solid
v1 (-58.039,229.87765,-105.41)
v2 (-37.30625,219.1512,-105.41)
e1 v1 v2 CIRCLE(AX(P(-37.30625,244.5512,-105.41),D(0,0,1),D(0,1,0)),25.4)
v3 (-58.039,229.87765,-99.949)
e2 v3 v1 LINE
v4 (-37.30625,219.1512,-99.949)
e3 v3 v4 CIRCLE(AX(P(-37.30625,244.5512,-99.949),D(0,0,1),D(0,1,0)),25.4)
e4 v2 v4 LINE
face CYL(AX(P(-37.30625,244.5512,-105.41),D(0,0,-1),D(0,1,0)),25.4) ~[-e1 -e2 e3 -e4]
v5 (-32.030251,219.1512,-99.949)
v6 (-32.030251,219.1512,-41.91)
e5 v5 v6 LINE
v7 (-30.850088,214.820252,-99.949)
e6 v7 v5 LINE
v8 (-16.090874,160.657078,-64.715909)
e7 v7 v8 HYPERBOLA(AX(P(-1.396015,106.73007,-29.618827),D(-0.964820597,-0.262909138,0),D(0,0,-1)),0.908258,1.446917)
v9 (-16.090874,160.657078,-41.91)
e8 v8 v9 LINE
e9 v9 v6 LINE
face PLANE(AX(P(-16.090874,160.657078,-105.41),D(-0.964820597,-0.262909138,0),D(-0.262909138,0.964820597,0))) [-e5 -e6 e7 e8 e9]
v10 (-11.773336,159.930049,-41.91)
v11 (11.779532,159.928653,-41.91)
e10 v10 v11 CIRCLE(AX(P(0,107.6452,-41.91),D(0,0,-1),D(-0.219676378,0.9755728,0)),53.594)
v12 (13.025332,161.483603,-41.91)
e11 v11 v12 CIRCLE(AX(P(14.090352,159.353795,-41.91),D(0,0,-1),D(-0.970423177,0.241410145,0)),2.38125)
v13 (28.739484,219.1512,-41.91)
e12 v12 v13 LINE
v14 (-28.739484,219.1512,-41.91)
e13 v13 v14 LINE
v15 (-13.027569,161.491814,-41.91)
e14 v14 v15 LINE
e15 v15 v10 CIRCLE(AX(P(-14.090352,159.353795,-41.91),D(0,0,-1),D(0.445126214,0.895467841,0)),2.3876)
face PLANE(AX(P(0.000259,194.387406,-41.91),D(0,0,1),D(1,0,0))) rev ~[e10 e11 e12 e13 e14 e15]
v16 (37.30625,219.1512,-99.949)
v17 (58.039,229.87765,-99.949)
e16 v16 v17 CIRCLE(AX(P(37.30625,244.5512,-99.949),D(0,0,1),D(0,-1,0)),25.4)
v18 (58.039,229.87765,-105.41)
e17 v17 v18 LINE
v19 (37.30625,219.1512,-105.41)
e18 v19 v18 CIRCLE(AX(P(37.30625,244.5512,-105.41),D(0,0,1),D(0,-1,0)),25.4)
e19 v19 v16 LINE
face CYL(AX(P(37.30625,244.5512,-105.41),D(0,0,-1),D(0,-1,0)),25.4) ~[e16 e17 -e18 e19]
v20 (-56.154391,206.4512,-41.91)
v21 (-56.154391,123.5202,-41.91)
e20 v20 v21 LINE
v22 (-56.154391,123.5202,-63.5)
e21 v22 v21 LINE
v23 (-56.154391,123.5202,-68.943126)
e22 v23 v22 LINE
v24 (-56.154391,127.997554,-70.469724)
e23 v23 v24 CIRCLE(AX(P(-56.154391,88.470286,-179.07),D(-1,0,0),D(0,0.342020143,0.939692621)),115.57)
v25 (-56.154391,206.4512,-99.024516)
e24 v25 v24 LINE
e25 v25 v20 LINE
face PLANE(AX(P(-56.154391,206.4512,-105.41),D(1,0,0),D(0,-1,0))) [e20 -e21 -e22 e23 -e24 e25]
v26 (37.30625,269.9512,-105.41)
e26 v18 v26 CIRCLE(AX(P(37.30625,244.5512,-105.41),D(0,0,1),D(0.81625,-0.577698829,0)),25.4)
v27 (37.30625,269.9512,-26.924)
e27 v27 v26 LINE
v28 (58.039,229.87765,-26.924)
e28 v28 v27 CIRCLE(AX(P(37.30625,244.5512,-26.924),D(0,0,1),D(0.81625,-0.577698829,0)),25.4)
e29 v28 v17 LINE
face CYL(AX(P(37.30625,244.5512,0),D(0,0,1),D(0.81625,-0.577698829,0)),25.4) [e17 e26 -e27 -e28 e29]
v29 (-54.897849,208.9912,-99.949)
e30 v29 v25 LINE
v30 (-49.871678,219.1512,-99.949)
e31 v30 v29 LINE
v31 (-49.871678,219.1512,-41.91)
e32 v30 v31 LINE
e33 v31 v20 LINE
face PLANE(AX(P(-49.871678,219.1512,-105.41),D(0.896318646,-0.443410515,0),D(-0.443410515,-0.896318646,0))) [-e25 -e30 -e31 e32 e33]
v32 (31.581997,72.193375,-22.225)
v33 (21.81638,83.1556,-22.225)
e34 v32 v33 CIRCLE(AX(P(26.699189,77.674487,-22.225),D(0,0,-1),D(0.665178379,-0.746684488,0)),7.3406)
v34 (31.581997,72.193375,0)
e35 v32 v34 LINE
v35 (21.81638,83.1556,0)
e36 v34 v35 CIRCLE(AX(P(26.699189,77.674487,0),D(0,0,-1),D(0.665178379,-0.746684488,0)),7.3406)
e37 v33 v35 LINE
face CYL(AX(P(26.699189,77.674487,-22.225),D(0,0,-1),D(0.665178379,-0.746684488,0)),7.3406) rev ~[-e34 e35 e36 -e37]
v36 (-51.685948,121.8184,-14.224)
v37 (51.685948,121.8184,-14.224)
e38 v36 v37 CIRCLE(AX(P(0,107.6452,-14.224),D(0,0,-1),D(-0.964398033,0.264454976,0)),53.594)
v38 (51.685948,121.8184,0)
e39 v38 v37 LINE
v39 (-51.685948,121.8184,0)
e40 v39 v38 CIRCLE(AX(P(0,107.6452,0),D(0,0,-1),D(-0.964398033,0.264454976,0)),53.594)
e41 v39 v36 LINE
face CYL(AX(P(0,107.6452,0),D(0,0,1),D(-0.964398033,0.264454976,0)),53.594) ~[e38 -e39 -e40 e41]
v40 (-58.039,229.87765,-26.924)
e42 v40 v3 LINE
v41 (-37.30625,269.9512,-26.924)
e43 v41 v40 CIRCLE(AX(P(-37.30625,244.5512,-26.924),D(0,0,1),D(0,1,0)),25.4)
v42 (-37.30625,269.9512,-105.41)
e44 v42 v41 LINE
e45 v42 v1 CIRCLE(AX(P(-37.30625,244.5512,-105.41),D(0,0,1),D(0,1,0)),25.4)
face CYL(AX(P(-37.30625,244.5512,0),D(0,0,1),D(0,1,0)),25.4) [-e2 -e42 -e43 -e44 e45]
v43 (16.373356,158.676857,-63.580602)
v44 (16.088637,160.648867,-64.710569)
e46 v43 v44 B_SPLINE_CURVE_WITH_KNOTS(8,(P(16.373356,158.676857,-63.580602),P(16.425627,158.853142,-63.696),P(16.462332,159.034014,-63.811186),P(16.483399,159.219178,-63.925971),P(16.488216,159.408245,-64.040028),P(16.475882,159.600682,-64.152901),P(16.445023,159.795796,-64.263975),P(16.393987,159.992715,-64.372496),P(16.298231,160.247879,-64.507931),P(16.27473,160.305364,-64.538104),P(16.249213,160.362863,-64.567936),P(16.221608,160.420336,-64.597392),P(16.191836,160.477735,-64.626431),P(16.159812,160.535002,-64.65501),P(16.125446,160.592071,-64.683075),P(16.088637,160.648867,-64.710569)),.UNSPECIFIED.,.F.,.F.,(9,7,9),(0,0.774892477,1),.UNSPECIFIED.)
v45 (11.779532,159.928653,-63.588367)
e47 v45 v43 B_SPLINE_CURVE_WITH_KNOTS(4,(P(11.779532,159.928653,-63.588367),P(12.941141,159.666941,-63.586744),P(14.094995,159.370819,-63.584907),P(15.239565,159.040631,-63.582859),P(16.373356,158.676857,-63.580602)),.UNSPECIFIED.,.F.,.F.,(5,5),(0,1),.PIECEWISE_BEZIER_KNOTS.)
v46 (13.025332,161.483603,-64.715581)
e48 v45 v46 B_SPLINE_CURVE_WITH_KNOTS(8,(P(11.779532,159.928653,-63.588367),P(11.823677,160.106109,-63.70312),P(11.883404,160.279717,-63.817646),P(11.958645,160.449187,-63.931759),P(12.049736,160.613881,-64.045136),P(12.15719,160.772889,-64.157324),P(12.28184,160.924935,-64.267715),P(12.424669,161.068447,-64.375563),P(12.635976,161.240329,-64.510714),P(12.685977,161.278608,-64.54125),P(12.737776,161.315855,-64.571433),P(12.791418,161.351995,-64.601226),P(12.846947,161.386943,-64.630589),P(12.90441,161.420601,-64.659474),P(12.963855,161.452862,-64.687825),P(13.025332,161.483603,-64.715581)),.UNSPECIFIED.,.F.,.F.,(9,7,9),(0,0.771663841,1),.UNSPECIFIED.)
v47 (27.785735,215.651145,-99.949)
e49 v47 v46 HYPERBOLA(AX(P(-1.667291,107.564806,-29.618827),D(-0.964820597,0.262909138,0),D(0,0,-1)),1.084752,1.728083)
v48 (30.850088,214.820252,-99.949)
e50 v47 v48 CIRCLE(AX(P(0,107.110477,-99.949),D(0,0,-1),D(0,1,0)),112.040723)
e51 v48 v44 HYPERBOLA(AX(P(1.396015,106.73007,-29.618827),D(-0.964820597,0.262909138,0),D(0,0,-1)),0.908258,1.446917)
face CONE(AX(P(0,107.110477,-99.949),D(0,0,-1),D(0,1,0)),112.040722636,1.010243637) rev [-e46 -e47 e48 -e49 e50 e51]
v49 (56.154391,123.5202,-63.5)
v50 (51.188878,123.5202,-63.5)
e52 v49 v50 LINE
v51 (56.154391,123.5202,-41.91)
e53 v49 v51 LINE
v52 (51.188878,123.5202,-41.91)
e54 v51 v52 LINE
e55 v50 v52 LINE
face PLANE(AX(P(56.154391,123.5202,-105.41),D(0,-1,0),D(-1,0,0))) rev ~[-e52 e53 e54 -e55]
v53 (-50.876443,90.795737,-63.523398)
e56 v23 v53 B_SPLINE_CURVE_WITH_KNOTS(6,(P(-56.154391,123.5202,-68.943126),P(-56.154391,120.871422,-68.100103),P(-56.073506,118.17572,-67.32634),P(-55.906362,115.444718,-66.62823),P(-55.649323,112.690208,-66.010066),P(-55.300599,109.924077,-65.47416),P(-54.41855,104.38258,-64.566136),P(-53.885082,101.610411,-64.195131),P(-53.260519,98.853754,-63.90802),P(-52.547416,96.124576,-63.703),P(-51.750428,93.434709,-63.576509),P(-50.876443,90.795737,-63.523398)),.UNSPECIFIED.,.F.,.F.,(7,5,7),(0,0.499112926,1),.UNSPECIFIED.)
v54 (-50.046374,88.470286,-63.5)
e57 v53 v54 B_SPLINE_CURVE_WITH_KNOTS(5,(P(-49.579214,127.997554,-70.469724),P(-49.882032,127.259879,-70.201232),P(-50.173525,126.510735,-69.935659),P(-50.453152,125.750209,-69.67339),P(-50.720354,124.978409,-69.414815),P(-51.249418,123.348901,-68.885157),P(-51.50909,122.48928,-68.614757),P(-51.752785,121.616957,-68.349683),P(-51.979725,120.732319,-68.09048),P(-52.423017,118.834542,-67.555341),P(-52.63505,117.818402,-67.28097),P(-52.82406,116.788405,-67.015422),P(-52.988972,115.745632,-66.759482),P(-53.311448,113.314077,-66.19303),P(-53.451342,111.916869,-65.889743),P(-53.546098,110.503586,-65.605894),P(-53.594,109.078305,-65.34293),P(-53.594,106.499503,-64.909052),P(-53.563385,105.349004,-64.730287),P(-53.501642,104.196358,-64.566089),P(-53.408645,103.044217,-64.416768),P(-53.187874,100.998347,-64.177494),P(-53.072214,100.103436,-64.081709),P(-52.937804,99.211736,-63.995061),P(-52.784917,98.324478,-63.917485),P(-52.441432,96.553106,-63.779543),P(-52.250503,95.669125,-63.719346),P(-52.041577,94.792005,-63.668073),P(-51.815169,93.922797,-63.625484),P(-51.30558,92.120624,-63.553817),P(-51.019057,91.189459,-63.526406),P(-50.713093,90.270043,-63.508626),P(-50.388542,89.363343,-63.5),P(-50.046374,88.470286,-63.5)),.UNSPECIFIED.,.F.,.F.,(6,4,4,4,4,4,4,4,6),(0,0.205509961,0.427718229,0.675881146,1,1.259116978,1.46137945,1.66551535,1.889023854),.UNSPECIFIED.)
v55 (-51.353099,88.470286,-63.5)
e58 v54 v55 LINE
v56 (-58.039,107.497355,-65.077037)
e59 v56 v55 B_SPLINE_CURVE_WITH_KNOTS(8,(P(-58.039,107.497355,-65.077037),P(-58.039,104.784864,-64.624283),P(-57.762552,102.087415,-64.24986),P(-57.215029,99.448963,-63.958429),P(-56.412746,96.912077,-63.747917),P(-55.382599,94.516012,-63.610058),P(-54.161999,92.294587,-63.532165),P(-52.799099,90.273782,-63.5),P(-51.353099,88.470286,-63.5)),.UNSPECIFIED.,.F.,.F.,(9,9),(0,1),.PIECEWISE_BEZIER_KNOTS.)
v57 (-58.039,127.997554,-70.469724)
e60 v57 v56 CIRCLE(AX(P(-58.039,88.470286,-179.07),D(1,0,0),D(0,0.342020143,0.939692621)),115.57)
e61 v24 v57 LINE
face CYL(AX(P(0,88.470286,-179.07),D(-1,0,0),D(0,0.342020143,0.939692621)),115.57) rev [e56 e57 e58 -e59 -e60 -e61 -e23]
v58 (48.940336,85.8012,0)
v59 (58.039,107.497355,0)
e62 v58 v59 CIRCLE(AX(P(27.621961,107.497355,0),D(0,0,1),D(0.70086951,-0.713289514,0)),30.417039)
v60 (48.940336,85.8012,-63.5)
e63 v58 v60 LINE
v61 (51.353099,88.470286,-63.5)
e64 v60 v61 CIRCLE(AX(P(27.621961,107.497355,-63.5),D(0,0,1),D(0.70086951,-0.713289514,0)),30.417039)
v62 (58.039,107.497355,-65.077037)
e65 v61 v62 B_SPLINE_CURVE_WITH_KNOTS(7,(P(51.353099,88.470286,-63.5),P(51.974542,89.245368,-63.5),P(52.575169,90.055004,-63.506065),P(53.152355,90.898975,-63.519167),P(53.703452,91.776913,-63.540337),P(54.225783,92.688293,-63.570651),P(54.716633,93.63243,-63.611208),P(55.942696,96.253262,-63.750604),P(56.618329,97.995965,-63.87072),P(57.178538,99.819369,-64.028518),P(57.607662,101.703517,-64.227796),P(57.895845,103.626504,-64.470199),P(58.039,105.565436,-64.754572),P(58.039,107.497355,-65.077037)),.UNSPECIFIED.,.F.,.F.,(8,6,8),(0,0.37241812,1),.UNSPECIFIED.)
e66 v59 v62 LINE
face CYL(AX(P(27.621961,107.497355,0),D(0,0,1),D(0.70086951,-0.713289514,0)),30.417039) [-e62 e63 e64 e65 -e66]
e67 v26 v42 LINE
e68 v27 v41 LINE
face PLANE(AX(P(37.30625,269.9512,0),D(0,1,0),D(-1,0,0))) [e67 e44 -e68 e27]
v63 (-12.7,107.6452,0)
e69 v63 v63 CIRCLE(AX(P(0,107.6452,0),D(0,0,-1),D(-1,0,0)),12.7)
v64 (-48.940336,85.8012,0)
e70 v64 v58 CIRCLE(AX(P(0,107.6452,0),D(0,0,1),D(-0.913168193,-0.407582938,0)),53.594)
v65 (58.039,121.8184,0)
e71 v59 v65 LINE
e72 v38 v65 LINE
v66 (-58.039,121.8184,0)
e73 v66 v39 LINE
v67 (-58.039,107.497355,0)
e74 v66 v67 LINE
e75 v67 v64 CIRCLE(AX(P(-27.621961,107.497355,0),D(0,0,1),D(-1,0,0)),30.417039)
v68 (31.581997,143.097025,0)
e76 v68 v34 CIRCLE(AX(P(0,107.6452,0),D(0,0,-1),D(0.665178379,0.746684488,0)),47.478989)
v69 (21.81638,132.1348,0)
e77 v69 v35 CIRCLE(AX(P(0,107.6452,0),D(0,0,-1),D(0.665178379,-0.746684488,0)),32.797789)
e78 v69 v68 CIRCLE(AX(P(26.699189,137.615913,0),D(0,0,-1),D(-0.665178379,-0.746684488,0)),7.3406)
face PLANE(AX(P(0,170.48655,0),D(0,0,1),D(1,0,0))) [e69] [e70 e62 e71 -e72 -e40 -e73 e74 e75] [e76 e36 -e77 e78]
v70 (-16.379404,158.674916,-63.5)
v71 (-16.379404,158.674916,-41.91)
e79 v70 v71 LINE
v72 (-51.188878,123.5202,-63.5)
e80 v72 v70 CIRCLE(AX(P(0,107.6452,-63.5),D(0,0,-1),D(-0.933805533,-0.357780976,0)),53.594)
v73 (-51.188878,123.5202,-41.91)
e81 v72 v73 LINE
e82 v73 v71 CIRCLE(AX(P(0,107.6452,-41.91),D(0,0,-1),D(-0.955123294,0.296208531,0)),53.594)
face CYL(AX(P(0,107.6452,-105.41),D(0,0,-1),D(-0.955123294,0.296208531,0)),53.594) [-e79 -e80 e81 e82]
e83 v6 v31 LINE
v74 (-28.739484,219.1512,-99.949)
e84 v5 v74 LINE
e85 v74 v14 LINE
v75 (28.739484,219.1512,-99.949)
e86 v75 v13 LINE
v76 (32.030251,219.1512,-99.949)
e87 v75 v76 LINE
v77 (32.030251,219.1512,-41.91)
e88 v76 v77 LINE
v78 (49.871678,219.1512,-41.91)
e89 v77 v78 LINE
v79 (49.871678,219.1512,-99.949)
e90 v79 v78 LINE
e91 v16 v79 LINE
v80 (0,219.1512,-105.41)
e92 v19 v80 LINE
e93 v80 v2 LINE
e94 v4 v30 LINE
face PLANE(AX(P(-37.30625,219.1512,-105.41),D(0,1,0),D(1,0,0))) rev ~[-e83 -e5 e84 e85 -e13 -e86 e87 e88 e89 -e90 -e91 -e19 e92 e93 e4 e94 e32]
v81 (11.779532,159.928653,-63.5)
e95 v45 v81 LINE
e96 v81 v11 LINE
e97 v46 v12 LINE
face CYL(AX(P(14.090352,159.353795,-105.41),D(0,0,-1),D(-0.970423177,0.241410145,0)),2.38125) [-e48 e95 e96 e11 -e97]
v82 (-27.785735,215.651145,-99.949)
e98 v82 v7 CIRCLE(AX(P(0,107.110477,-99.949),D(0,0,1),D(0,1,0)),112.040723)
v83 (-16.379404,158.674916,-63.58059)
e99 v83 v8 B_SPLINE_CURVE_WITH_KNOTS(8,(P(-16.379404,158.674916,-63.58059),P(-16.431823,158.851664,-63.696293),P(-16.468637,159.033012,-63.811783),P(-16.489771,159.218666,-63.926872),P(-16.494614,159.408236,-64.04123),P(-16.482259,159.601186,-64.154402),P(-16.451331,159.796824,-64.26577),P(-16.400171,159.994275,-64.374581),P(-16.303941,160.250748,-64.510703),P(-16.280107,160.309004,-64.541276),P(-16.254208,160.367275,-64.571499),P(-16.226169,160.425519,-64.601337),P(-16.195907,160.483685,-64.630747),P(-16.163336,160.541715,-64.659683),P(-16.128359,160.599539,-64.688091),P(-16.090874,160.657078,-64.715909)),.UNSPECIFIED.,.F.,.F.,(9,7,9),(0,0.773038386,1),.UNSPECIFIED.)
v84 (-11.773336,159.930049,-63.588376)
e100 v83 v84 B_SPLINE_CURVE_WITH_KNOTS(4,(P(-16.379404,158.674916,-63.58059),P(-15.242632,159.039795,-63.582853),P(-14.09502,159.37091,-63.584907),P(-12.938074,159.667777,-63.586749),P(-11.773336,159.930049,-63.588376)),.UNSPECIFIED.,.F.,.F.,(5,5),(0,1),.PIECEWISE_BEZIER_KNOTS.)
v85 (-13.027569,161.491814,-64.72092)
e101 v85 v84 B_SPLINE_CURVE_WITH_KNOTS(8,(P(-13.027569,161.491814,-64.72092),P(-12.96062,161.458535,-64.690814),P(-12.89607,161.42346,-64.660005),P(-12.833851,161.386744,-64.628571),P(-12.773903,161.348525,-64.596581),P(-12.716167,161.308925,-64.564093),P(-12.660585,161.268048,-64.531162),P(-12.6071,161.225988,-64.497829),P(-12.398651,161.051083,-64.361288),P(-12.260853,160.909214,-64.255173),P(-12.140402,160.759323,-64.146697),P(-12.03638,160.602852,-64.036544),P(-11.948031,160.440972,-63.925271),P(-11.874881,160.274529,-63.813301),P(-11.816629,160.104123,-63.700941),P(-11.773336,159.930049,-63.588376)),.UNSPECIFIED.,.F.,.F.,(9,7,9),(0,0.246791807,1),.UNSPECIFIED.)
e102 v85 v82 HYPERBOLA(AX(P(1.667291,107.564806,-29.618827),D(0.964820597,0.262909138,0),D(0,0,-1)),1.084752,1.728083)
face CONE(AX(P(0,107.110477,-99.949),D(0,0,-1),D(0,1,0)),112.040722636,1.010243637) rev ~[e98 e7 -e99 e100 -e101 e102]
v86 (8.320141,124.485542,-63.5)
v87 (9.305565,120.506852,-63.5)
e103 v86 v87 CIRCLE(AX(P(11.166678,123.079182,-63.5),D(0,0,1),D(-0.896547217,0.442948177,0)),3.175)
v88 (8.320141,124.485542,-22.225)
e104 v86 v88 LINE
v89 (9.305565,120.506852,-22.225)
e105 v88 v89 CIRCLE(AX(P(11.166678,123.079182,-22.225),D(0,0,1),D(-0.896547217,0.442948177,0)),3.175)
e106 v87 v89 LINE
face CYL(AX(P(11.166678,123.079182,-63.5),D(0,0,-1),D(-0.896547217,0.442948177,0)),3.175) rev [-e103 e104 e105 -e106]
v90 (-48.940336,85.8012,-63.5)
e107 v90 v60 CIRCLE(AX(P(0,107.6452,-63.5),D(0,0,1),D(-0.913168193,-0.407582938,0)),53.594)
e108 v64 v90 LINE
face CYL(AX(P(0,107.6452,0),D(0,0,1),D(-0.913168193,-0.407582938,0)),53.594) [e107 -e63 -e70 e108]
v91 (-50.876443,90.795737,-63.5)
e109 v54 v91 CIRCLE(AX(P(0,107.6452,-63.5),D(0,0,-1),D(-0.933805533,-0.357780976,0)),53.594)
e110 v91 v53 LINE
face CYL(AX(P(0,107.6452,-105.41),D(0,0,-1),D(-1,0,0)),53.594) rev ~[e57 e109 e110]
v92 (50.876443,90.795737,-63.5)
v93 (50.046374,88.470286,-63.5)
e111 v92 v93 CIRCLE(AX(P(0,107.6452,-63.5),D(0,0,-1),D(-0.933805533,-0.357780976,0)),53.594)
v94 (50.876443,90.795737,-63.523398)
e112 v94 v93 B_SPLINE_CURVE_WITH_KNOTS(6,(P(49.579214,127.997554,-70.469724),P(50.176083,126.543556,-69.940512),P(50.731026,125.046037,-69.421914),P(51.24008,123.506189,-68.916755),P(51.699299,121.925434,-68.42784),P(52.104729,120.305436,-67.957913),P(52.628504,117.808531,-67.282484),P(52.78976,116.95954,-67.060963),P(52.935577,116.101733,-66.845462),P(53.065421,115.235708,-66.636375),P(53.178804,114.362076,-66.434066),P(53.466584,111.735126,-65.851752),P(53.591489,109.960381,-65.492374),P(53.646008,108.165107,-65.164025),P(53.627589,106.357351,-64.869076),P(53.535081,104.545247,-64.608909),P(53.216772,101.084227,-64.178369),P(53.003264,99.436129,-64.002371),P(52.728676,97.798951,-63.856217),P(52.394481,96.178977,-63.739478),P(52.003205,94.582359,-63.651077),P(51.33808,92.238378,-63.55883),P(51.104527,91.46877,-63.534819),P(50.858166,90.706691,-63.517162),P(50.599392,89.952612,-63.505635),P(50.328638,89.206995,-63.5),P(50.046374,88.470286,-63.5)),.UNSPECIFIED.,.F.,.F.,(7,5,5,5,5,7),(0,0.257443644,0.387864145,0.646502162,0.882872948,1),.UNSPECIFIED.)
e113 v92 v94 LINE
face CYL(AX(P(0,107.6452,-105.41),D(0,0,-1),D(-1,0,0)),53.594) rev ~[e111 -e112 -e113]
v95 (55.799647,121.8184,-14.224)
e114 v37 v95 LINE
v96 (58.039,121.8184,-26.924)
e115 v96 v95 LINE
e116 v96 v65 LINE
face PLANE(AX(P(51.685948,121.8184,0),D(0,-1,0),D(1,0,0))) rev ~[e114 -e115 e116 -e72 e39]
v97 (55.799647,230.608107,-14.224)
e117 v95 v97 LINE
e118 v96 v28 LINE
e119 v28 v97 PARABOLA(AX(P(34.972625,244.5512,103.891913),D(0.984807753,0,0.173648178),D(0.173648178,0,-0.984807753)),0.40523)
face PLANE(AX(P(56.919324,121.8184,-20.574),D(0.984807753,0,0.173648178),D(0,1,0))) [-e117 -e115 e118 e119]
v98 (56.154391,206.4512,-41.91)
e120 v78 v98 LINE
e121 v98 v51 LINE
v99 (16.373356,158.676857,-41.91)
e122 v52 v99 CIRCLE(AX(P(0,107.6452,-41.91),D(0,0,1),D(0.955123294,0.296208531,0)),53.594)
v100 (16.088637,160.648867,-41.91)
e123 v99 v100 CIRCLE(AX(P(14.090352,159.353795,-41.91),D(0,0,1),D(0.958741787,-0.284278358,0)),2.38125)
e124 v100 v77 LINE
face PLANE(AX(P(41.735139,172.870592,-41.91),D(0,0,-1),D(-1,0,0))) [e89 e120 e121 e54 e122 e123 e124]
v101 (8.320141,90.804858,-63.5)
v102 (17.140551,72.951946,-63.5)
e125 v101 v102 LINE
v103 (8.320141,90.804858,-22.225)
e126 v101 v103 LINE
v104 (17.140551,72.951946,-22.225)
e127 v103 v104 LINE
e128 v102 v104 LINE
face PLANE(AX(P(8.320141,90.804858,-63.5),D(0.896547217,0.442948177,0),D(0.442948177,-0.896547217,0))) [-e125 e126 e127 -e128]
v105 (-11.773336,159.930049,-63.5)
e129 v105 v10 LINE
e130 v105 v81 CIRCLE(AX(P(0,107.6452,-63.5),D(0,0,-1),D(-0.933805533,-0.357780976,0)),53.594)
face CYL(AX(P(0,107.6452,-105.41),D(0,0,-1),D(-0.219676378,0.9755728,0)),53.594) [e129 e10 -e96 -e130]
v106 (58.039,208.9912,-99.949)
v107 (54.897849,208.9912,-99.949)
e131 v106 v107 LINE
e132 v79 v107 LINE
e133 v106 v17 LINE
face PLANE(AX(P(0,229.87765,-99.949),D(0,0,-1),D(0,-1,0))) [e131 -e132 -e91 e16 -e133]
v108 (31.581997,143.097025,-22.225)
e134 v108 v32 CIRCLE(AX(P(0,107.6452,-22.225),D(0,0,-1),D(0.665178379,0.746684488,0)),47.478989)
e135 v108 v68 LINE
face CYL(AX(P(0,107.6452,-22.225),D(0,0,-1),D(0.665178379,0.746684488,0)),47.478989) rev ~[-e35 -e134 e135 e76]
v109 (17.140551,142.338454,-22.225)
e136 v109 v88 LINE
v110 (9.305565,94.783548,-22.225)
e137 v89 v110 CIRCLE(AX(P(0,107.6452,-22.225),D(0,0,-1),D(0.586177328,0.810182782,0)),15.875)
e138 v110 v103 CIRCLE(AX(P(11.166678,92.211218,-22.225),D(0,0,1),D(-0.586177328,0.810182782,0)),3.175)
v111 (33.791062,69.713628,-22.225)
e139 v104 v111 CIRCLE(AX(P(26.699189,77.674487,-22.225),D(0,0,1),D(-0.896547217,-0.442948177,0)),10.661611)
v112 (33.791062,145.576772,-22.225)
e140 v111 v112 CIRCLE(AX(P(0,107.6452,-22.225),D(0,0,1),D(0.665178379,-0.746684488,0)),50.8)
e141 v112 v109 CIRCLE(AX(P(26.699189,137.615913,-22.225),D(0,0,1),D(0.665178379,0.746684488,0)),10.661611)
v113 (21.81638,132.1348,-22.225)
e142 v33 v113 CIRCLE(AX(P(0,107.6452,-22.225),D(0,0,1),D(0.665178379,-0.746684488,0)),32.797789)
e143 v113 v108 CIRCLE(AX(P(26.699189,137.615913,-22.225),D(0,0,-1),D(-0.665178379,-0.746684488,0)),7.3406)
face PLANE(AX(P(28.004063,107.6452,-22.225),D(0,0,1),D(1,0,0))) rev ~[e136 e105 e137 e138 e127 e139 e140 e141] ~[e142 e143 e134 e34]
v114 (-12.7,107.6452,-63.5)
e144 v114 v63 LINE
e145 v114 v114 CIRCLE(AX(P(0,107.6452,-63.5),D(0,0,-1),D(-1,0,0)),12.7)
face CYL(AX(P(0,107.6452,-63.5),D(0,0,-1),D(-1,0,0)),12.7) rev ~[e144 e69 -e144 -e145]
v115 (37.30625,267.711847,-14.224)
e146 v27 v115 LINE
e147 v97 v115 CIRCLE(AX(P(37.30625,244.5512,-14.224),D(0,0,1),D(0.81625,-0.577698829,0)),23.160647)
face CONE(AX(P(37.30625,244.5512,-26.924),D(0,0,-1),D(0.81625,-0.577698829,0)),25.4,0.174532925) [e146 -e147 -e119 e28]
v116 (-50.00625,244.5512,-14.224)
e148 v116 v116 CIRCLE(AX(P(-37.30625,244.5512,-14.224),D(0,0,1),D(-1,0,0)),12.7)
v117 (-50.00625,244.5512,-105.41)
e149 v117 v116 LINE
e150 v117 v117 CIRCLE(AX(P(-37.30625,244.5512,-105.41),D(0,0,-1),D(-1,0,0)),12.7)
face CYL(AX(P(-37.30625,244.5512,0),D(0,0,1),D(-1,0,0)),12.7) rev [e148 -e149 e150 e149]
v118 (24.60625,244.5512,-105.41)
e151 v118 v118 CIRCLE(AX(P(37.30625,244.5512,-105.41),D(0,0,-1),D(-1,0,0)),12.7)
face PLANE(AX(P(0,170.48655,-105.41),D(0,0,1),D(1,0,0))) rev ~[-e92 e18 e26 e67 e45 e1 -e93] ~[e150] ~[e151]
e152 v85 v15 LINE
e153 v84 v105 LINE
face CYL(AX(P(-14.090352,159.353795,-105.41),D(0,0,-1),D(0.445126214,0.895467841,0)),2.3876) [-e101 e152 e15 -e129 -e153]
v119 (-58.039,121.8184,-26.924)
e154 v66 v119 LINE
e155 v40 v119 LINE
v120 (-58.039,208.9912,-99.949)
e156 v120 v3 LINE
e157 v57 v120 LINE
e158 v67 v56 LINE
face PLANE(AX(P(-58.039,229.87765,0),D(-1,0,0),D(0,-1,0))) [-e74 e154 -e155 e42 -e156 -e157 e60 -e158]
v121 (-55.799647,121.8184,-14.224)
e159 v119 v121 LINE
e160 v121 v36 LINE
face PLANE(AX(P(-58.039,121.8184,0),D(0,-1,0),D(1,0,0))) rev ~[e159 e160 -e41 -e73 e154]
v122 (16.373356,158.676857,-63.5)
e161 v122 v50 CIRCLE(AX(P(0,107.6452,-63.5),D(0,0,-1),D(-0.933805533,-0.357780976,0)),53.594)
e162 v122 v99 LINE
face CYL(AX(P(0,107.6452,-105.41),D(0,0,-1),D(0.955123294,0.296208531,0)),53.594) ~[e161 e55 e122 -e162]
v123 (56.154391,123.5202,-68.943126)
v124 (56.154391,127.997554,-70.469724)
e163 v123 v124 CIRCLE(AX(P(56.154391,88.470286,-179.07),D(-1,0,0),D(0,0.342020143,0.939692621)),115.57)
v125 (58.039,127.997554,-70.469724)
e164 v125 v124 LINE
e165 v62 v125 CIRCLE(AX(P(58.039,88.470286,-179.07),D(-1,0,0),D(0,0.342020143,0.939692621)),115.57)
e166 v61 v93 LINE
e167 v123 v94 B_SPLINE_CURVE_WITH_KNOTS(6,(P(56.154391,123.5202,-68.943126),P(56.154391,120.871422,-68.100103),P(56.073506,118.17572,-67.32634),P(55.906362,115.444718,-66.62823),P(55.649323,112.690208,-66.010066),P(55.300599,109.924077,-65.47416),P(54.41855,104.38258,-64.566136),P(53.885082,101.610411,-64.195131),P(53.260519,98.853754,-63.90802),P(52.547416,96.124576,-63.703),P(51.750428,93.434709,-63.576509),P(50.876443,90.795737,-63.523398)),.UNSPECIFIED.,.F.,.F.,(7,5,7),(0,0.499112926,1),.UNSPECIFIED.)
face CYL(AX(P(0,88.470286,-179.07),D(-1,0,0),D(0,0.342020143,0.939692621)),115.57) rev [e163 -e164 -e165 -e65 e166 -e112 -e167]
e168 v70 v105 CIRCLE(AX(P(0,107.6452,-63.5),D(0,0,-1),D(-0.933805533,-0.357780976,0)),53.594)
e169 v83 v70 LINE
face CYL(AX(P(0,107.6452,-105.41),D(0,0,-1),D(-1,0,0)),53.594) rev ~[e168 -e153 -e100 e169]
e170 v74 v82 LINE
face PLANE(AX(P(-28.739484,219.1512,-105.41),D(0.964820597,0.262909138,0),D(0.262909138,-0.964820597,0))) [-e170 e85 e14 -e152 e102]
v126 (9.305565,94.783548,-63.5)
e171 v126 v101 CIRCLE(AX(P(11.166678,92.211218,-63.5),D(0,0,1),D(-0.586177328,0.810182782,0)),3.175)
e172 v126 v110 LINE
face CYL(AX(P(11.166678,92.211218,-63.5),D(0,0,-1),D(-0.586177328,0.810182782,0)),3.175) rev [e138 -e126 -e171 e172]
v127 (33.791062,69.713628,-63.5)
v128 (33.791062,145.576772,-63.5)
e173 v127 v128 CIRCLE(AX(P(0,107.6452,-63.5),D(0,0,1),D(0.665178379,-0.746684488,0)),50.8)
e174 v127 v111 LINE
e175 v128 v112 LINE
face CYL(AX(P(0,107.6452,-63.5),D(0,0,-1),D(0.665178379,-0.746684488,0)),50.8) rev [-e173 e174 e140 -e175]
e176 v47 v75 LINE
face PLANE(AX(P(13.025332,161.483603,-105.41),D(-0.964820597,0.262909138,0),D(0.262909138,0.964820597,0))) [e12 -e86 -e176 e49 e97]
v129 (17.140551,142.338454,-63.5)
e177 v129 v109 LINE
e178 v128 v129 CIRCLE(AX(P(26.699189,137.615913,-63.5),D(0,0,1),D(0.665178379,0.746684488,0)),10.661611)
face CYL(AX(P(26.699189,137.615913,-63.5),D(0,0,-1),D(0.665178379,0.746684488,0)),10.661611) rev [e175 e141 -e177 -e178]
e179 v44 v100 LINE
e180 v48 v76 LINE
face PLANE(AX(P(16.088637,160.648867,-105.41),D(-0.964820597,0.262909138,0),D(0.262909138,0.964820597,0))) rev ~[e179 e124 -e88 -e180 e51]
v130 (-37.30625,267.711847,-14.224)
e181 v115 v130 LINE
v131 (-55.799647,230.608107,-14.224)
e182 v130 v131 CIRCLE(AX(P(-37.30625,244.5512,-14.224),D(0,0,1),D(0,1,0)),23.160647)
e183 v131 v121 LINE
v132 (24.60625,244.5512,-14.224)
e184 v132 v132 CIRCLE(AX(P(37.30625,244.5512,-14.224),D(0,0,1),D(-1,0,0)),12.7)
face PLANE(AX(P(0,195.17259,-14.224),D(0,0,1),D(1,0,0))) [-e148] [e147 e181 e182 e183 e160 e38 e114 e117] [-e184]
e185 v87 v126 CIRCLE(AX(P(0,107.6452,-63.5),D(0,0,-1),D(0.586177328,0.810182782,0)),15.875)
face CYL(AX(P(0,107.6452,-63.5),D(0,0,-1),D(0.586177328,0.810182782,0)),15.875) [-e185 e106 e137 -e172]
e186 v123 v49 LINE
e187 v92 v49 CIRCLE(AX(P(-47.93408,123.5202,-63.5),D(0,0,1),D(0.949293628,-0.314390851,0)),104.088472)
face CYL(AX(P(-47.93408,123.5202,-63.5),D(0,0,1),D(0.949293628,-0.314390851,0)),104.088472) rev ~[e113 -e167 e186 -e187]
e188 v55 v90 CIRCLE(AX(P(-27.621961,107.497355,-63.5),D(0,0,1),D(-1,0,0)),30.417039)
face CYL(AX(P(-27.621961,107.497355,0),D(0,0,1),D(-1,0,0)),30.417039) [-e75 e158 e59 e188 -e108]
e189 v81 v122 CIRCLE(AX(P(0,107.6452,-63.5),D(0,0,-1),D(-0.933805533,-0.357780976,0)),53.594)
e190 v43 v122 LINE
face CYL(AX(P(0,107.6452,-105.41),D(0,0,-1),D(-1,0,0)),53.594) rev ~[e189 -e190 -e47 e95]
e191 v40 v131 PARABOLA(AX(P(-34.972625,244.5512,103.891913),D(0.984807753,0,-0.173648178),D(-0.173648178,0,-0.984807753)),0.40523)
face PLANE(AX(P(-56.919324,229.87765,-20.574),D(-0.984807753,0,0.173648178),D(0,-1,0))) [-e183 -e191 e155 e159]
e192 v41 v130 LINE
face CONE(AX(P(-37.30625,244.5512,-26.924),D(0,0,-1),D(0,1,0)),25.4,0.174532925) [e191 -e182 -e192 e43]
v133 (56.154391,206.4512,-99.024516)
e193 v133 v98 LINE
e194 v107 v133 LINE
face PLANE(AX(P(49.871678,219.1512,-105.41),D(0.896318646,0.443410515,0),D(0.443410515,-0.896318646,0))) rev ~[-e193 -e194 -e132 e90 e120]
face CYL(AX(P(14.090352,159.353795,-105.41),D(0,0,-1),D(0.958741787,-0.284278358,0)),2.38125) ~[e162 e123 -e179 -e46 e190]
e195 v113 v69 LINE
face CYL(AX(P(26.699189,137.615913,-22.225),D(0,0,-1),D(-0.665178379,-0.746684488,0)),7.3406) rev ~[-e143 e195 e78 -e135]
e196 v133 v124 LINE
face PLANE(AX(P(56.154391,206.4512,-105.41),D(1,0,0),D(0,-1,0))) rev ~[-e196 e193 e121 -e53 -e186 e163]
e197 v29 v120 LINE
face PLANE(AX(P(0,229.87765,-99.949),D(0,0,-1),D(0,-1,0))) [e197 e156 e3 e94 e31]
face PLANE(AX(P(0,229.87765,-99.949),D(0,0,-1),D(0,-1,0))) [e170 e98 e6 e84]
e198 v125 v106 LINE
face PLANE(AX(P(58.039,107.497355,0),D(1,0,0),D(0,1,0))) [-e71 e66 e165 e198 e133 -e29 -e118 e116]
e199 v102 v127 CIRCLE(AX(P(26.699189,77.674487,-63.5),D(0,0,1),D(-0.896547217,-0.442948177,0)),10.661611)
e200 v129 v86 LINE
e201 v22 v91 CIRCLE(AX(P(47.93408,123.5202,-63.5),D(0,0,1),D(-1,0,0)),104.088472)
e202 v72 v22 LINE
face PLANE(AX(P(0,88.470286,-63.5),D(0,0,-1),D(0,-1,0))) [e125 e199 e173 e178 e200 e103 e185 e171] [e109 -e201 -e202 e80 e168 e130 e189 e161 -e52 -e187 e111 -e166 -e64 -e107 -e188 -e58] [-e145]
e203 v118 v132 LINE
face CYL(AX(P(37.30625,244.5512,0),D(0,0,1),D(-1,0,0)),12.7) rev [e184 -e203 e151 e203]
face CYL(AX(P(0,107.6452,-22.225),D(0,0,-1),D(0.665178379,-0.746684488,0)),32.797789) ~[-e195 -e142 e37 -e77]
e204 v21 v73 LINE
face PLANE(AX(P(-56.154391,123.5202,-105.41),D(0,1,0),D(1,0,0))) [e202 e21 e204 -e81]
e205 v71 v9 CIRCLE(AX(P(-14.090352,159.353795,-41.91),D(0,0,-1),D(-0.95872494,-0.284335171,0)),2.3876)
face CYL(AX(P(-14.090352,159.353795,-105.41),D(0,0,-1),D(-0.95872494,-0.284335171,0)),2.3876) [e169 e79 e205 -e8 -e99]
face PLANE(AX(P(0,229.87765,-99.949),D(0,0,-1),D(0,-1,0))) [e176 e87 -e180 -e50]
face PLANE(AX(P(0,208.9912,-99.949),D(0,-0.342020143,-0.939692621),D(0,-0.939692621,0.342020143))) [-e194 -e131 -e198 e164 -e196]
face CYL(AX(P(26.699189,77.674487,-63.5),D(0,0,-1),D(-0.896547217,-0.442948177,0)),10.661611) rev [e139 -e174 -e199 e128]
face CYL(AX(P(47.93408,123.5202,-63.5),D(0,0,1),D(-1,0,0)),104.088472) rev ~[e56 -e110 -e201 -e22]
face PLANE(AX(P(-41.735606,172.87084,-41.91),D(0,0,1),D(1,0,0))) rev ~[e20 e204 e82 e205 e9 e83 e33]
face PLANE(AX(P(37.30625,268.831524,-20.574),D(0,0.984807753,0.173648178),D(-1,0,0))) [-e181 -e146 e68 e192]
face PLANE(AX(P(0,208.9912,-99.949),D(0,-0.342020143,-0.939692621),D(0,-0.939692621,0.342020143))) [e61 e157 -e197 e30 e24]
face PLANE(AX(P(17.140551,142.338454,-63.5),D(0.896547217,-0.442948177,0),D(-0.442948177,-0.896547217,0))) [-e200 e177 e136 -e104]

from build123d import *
from OCP.BRepFilletAPI import BRepFilletAPI_MakeChamfer

# Parameters (mm, degrees)
SKETCH39_R               = 12.7
BOSS_EXTRUDE16_DEPTH     = 105.41
CUT_EXTRUDE13_DEPTH      = 297.507996976
CUT_EXTRUDE13_DEPTH_BACK = 297.507996976
SKETCH41_R               = 12.7
BOSS_EXTRUDE17_DEPTH     = 5.461
SKETCH42_R               = 53.594
CUT_EXTRUDE14_DEPTH      = 41.91
SKETCH43_R               = 12.7
CUT_EXTRUDE15_DEPTH      = 41.275
CUT_EXTRUDE25_DEPTH      = 14.224
CHAMFER1_SIZE            = 12.7
CHAMFER1_SIZE2           = 2.239352655
CUT_EXTRUDE18_DEPTH      = 63.5
CUT_REVOLVE4_ANGLE       = 45
CUT_EXTRUDE22_REACH      = 286.32
SKETCH53_R               = 12.7
CUT_EXTRUDE23_DEPTH      = 285.32019658
CUT_EXTRUDE24_DEPTH      = 290.353535308


with BuildPart() as part:
    # Sketch39 → Boss-Extrude16 (new body)
    with BuildSketch(Plane(origin=(0, 0, 0), x_dir=(-1, 0, 0), z_dir=(0, 0, -1))):
        with BuildLine():
            Line((-37.30625, 269.9512), (37.30625, 269.9512))
            ThreePointArc((37.30625, 269.9512), (59.865817558, 256.222785651), (58.039, 229.877649733))
            Line((58.039, 229.877649733), (58.039, 107.49735517))
            ThreePointArc((58.039, 107.49735517), (55.67225609, 95.733970947), (48.940336125, 85.8012))
            ThreePointArc((48.940336125, 85.8012), (0, 54.0512), (-48.940336125, 85.8012))
            ThreePointArc((-48.940336125, 85.8012), (-55.67225609, 95.733970947), (-58.039, 107.49735517))
            Line((-58.039, 107.49735517), (-58.039, 229.877649733))
            ThreePointArc((-58.039, 229.877649733), (-59.865817558, 256.222785651), (-37.30625, 269.9512))
        make_face()
        with Locations((-37.30625, 244.5512)):
            Circle(SKETCH39_R, mode=Mode.SUBTRACT)
        with Locations((37.30625, 244.5512)):
            Circle(SKETCH39_R, mode=Mode.SUBTRACT)
    extrude(amount=BOSS_EXTRUDE16_DEPTH)

    # Sketch40 → Cut-Extrude13 (cut, two sides)
    with BuildSketch(Plane(origin=(0, 0, 0), x_dir=(0, 0, -1), z_dir=(1, 0, 0))) as cut_extrude13_sk:
        with BuildLine():
            Line((99.949, 208.9912), (70.469723816, 127.997554342))
            ThreePointArc((70.469723816, 127.997554342), (65.255767984, 108.538806271), (63.5, 88.470286378))
            Line((63.5, 88.470286378), (63.5, 54.0512))
            Line((63.5, 54.0512), (105.41, 54.0512))
            Line((105.41, 54.0512), (105.41, 229.877649733))
            Line((105.41, 229.877649733), (99.949, 229.877649733))
            Line((99.949, 229.877649733), (99.949, 208.9912))
        make_face()
    extrude(amount=CUT_EXTRUDE13_DEPTH, mode=Mode.SUBTRACT)
    extrude(cut_extrude13_sk.sketch, amount=-CUT_EXTRUDE13_DEPTH_BACK, mode=Mode.SUBTRACT)

    # Sketch41 → Boss-Extrude17 (add)
    with BuildSketch(Plane(origin=(0, 0, -105.41), x_dir=(-1, 0, 0), z_dir=(0, 0, -1))):
        with BuildLine():
            Line((-37.30625, 269.9512), (37.30625, 269.9512))
            ThreePointArc((37.30625, 269.9512), (62.70625, 244.5512), (37.30625, 219.1512))
            Line((37.30625, 219.1512), (-37.30625, 219.1512))
            ThreePointArc((-37.30625, 219.1512), (-62.70625, 244.5512), (-37.30625, 269.9512))
        make_face()
        with Locations((-37.30625, 244.5512)):
            Circle(SKETCH41_R, mode=Mode.SUBTRACT)
        with Locations((37.30625, 244.5512)):
            Circle(SKETCH41_R, mode=Mode.SUBTRACT)
    extrude(amount=-BOSS_EXTRUDE17_DEPTH)

    # Sketch42 → Cut-Extrude14 (cut)
    with BuildSketch(Plane(origin=(0, 0, -105.41), x_dir=(-1, 0, 0), z_dir=(0, 0, -1))):
        with Locations((0, 107.6452)):
            Circle(SKETCH42_R)
    extrude(amount=-CUT_EXTRUDE14_DEPTH, mode=Mode.SUBTRACT)

    # Sketch43 → Cut-Extrude15 (cut)
    with BuildSketch(Plane(origin=(0, 0, -63.5), x_dir=(-1, 0, 0), z_dir=(0, 0, -1))):
        with Locations((0, 107.6452)):
            Circle(SKETCH43_R)
        with BuildLine():
            Line((-17.140551152, 142.338453637), (-8.320140689, 124.485542452))
            ThreePointArc((-8.320140689, 124.485542452), (-8.084797468, 122.315875536), (-9.305565087, 120.50685166))
            ThreePointArc((-9.305565087, 120.50685166), (-15.875, 107.6452), (-9.305565087, 94.78354834))
            ThreePointArc((-9.305565087, 94.78354834), (-8.084797468, 92.974524464), (-8.320140689, 90.804857548))
            Line((-8.320140689, 90.804857548), (-17.140551152, 72.951946363))
            ThreePointArc((-17.140551152, 72.951946363), (-24.663775135, 67.208970871), (-33.791061651, 69.713628025))
            ThreePointArc((-33.791061651, 69.713628025), (-50.8, 107.6452), (-33.791061651, 145.576771975))
            ThreePointArc((-33.791061651, 145.576771975), (-24.663775135, 148.081429129), (-17.140551152, 142.338453637))
        make_face()
    extrude(amount=-CUT_EXTRUDE15_DEPTH, mode=Mode.SUBTRACT)

    # Sketch57 → Cut-Extrude25 (cut)
    with BuildSketch(Plane.XY):
        with BuildLine():
            Line((-58.039, 121.8184), (-51.685948165, 121.8184))
            ThreePointArc((-51.685948165, 121.8184), (0, 161.2392), (51.685948165, 121.8184))
            Line((51.685948165, 121.8184), (58.039, 121.8184))
            Line((58.039, 121.8184), (58.039, 229.877649733))
            ThreePointArc((58.039, 229.877649733), (59.865817558, 256.222785651), (37.30625, 269.9512))
            Line((37.30625, 269.9512), (-37.30625, 269.9512))
            ThreePointArc((-37.30625, 269.9512), (-59.865817558, 256.222785651), (-58.039, 229.877649733))
            Line((-58.039, 229.877649733), (-58.039, 121.8184))
        make_face()
    extrude(amount=-CUT_EXTRUDE25_DEPTH, mode=Mode.SUBTRACT)

    # Chamfer1: one chamfer whose edges measure the first distance from different faces: ONE call of the kernel's chamfer builder (chamfer() names one face for all edges)
    chamfer1_edges_1 = [part.edges().sort_by_distance(p)[0] for p in [
        (58.039, 175.848024867, -14.224),
    ]]
    chamfer1_side_1 = [part.faces().sort_by_distance(p)[0] for p in [
        (58.039, 173.156318685, -49.465514594),
    ]]
    chamfer1_edges_2 = [part.edges().sort_by_distance(p)[0] for p in [
        (-58.039, 175.848024867, -14.224),
    ]]
    chamfer1_side_2 = [part.faces().sort_by_distance(p)[0] for p in [
        (-58.039, 173.156318685, -49.465514594),
    ]]
    chamfer1_edges_3 = [part.edges().sort_by_distance(p)[0] for p in [
        (-59.865817558, 256.222785651, -14.224),
    ]]
    chamfer1_side_3 = [part.faces().sort_by_distance(p)[0] for p in [
        (-59.865817558, 256.222785651, -57.0865),
    ]]
    chamfer1_edges_4 = [part.edges().sort_by_distance(p)[0] for p in [
        (0, 269.9512, -14.224),
    ]]
    chamfer1_side_4 = [part.faces().sort_by_distance(p)[0] for p in [
        (0, 269.9512, -57.0865),
    ]]
    chamfer1_edges_5 = [part.edges().sort_by_distance(p)[0] for p in [
        (59.865817558, 256.222785651, -14.224),
    ]]
    chamfer1_side_5 = [part.faces().sort_by_distance(p)[0] for p in [
        (59.865817558, 256.222785651, -57.0865),
    ]]
    chamfer1 = BRepFilletAPI_MakeChamfer(part.part.solid().wrapped)
    for e in chamfer1_edges_1:
        chamfer1.Add(CHAMFER1_SIZE, CHAMFER1_SIZE2, e.wrapped, chamfer1_side_1[0].wrapped)  # the first distance lies on this face
    for e in chamfer1_edges_2:
        chamfer1.Add(CHAMFER1_SIZE, CHAMFER1_SIZE2, e.wrapped, chamfer1_side_2[0].wrapped)  # the first distance lies on this face
    for e in chamfer1_edges_3:
        chamfer1.Add(CHAMFER1_SIZE, CHAMFER1_SIZE2, e.wrapped, chamfer1_side_3[0].wrapped)  # the first distance lies on this face
    for e in chamfer1_edges_4:
        chamfer1.Add(CHAMFER1_SIZE, CHAMFER1_SIZE2, e.wrapped, chamfer1_side_4[0].wrapped)  # the first distance lies on this face
    for e in chamfer1_edges_5:
        chamfer1.Add(CHAMFER1_SIZE, CHAMFER1_SIZE2, e.wrapped, chamfer1_side_5[0].wrapped)  # the first distance lies on this face
    add(Compound.cast(chamfer1.Shape()), mode=Mode.REPLACE)

    # Sketch46 → Cut-Extrude18 (cut)
    with BuildSketch(Plane(origin=(0, 0, -105.41), x_dir=(-1, 0, 0), z_dir=(0, 0, -1))):
        with BuildLine():
            Line((-56.154391463, 206.4512), (-56.154391463, 123.5202))
            Line((-56.154391463, 123.5202), (-51.188877806, 123.5202))
            ThreePointArc((-51.188877806, 123.5202), (-38.080986117, 145.35667481), (-16.37335621, 158.676857257))
            ThreePointArc((-16.37335621, 158.676857257), (-16.447164367, 159.694072309), (-16.088636924, 160.64886662))
            Line((-16.088636924, 160.64886662), (-32.030251423, 219.1512))
            Line((-32.030251423, 219.1512), (-49.871677642, 219.1512))
            Line((-49.871677642, 219.1512), (-56.154391463, 206.4512))
        make_face()
        with BuildLine():
            Line((56.154391463, 206.4512), (56.154391463, 123.5202))
            Line((56.154391463, 123.5202), (51.188877806, 123.5202))
            ThreePointArc((51.188877806, 123.5202), (38.083220696, 145.354418203), (16.379403996, 158.674916448))
            ThreePointArc((16.379403996, 158.674916448), (16.453052349, 159.697717152), (16.090874379, 160.657077605))
            Line((16.090874379, 160.657077605), (32.030251423, 219.1512))
            Line((32.030251423, 219.1512), (49.871677642, 219.1512))
            Line((49.871677642, 219.1512), (56.154391463, 206.4512))
        make_face()
        with BuildLine():
            Line((28.739484198, 219.1512), (13.027568982, 161.491814117))
            ThreePointArc((13.027568982, 161.491814117), (12.22875634, 160.848818221), (11.773335802, 159.930048667))
            ThreePointArc((11.773335802, 159.930048667), (-0.003175786, 161.239199906), (-11.77953214, 159.928653009))
            ThreePointArc((-11.77953214, 159.928653009), (-12.231981249, 160.842690157), (-13.025331527, 161.483603132))
            Line((-13.025331527, 161.483603132), (-28.739484198, 219.1512))
            Line((-28.739484198, 219.1512), (28.739484198, 219.1512))
        make_face()
    extrude(amount=-CUT_EXTRUDE18_DEPTH, mode=Mode.SUBTRACT)

    # Sketch47 → Cut-Revolve4 (revolve, symmetric, cut)
    with BuildSketch(Plane(origin=(0, 0, 0), x_dir=(0, 0, -1), z_dir=(1, 0, 0))) as cut_revolve4_sk:
        Polygon((99.949, 219.1512), (63.5, 161.085477364), (105.41, 161.085477364), (105.41, 219.1512), align=None)
    revolve(axis=Axis((0, 107.110477364, -63.5), (0, 0, -1)), revolution_arc=CUT_REVOLVE4_ANGLE / 2, mode=Mode.SUBTRACT)
    revolve(cut_revolve4_sk.sketch, axis=Axis((0, 107.110477364, -63.5), (0, 0, 1)), revolution_arc=CUT_REVOLVE4_ANGLE / 2, mode=Mode.SUBTRACT)

    # Sketch52 → Cut-Extrude22 (cut, up to next)
    with BuildSketch(Plane(origin=(0, 0, -63.5), x_dir=(-1, 0, 0), z_dir=(0, 0, -1)), mode=Mode.PRIVATE) as cut_extrude22_sk1:
        with BuildLine():
            Line((-56.154391463, 123.5202), (-51.188877806, 123.5202))
            ThreePointArc((-51.188877806, 123.5202), (-53.59155752, 107.133537422), (-50.876442713, 90.795736718))
            ThreePointArc((-50.876442713, 90.795736718), (-54.826433246, 106.946521771), (-56.154391463, 123.5202))
        make_face()
    cut_extrude22_tool1 = extrude(cut_extrude22_sk1.sketch, amount=CUT_EXTRUDE22_REACH, mode=Mode.PRIVATE) & part.part
    # Sketch52 → Cut-Extrude22 (cut, up to next)
    with BuildSketch(Plane(origin=(0, 0, -63.5), x_dir=(-1, 0, 0), z_dir=(0, 0, -1)), mode=Mode.PRIVATE) as cut_extrude22_sk2:
        with BuildLine():
            Line((51.188877806, 123.5202), (56.154391463, 123.5202))
            ThreePointArc((56.154391463, 123.5202), (54.826433246, 106.946521771), (50.876442713, 90.795736718))
            ThreePointArc((50.876442713, 90.795736718), (53.59155752, 107.133537422), (51.188877806, 123.5202))
        make_face()
    cut_extrude22_tool2 = extrude(cut_extrude22_sk2.sketch, amount=CUT_EXTRUDE22_REACH, mode=Mode.PRIVATE) & part.part
    add(cut_extrude22_tool1.solids().sort_by_distance((54.141808, 115.249163, -63.5))[0], mode=Mode.SUBTRACT)
    add(cut_extrude22_tool2.solids().sort_by_distance((-54.141808, 115.249163, -63.5))[0], mode=Mode.SUBTRACT)

    # Sketch53 → Cut-Extrude23 (cut, through all)
    with BuildSketch(Plane(origin=(0, 0, -63.5), x_dir=(-1, 0, 0), z_dir=(0, 0, -1))):
        with Locations((0, 107.6452)):
            Circle(SKETCH53_R)
    extrude(amount=-CUT_EXTRUDE23_DEPTH, mode=Mode.SUBTRACT)

    # Sketch54 → Cut-Extrude24 (cut, through all)
    with BuildSketch(Plane(origin=(0, 0, -22.225), x_dir=(-1, 0, 0), z_dir=(0, 0, -1))):
        with BuildLine():
            ThreePointArc((-31.581997064, 143.09702472), (-47.47898919, 107.6452), (-31.581997064, 72.19337528))
            ThreePointArc((-31.581997064, 72.19337528), (-21.218076505, 72.791679022), (-21.816380247, 83.155599581))
            ThreePointArc((-21.816380247, 83.155599581), (-32.79778919, 107.6452), (-21.816380247, 132.134800419))
            ThreePointArc((-21.816380247, 132.134800419), (-21.218076505, 142.498720978), (-31.581997064, 143.09702472))
        make_face()
    extrude(amount=-CUT_EXTRUDE24_DEPTH, mode=Mode.SUBTRACT)


solid = part.part
